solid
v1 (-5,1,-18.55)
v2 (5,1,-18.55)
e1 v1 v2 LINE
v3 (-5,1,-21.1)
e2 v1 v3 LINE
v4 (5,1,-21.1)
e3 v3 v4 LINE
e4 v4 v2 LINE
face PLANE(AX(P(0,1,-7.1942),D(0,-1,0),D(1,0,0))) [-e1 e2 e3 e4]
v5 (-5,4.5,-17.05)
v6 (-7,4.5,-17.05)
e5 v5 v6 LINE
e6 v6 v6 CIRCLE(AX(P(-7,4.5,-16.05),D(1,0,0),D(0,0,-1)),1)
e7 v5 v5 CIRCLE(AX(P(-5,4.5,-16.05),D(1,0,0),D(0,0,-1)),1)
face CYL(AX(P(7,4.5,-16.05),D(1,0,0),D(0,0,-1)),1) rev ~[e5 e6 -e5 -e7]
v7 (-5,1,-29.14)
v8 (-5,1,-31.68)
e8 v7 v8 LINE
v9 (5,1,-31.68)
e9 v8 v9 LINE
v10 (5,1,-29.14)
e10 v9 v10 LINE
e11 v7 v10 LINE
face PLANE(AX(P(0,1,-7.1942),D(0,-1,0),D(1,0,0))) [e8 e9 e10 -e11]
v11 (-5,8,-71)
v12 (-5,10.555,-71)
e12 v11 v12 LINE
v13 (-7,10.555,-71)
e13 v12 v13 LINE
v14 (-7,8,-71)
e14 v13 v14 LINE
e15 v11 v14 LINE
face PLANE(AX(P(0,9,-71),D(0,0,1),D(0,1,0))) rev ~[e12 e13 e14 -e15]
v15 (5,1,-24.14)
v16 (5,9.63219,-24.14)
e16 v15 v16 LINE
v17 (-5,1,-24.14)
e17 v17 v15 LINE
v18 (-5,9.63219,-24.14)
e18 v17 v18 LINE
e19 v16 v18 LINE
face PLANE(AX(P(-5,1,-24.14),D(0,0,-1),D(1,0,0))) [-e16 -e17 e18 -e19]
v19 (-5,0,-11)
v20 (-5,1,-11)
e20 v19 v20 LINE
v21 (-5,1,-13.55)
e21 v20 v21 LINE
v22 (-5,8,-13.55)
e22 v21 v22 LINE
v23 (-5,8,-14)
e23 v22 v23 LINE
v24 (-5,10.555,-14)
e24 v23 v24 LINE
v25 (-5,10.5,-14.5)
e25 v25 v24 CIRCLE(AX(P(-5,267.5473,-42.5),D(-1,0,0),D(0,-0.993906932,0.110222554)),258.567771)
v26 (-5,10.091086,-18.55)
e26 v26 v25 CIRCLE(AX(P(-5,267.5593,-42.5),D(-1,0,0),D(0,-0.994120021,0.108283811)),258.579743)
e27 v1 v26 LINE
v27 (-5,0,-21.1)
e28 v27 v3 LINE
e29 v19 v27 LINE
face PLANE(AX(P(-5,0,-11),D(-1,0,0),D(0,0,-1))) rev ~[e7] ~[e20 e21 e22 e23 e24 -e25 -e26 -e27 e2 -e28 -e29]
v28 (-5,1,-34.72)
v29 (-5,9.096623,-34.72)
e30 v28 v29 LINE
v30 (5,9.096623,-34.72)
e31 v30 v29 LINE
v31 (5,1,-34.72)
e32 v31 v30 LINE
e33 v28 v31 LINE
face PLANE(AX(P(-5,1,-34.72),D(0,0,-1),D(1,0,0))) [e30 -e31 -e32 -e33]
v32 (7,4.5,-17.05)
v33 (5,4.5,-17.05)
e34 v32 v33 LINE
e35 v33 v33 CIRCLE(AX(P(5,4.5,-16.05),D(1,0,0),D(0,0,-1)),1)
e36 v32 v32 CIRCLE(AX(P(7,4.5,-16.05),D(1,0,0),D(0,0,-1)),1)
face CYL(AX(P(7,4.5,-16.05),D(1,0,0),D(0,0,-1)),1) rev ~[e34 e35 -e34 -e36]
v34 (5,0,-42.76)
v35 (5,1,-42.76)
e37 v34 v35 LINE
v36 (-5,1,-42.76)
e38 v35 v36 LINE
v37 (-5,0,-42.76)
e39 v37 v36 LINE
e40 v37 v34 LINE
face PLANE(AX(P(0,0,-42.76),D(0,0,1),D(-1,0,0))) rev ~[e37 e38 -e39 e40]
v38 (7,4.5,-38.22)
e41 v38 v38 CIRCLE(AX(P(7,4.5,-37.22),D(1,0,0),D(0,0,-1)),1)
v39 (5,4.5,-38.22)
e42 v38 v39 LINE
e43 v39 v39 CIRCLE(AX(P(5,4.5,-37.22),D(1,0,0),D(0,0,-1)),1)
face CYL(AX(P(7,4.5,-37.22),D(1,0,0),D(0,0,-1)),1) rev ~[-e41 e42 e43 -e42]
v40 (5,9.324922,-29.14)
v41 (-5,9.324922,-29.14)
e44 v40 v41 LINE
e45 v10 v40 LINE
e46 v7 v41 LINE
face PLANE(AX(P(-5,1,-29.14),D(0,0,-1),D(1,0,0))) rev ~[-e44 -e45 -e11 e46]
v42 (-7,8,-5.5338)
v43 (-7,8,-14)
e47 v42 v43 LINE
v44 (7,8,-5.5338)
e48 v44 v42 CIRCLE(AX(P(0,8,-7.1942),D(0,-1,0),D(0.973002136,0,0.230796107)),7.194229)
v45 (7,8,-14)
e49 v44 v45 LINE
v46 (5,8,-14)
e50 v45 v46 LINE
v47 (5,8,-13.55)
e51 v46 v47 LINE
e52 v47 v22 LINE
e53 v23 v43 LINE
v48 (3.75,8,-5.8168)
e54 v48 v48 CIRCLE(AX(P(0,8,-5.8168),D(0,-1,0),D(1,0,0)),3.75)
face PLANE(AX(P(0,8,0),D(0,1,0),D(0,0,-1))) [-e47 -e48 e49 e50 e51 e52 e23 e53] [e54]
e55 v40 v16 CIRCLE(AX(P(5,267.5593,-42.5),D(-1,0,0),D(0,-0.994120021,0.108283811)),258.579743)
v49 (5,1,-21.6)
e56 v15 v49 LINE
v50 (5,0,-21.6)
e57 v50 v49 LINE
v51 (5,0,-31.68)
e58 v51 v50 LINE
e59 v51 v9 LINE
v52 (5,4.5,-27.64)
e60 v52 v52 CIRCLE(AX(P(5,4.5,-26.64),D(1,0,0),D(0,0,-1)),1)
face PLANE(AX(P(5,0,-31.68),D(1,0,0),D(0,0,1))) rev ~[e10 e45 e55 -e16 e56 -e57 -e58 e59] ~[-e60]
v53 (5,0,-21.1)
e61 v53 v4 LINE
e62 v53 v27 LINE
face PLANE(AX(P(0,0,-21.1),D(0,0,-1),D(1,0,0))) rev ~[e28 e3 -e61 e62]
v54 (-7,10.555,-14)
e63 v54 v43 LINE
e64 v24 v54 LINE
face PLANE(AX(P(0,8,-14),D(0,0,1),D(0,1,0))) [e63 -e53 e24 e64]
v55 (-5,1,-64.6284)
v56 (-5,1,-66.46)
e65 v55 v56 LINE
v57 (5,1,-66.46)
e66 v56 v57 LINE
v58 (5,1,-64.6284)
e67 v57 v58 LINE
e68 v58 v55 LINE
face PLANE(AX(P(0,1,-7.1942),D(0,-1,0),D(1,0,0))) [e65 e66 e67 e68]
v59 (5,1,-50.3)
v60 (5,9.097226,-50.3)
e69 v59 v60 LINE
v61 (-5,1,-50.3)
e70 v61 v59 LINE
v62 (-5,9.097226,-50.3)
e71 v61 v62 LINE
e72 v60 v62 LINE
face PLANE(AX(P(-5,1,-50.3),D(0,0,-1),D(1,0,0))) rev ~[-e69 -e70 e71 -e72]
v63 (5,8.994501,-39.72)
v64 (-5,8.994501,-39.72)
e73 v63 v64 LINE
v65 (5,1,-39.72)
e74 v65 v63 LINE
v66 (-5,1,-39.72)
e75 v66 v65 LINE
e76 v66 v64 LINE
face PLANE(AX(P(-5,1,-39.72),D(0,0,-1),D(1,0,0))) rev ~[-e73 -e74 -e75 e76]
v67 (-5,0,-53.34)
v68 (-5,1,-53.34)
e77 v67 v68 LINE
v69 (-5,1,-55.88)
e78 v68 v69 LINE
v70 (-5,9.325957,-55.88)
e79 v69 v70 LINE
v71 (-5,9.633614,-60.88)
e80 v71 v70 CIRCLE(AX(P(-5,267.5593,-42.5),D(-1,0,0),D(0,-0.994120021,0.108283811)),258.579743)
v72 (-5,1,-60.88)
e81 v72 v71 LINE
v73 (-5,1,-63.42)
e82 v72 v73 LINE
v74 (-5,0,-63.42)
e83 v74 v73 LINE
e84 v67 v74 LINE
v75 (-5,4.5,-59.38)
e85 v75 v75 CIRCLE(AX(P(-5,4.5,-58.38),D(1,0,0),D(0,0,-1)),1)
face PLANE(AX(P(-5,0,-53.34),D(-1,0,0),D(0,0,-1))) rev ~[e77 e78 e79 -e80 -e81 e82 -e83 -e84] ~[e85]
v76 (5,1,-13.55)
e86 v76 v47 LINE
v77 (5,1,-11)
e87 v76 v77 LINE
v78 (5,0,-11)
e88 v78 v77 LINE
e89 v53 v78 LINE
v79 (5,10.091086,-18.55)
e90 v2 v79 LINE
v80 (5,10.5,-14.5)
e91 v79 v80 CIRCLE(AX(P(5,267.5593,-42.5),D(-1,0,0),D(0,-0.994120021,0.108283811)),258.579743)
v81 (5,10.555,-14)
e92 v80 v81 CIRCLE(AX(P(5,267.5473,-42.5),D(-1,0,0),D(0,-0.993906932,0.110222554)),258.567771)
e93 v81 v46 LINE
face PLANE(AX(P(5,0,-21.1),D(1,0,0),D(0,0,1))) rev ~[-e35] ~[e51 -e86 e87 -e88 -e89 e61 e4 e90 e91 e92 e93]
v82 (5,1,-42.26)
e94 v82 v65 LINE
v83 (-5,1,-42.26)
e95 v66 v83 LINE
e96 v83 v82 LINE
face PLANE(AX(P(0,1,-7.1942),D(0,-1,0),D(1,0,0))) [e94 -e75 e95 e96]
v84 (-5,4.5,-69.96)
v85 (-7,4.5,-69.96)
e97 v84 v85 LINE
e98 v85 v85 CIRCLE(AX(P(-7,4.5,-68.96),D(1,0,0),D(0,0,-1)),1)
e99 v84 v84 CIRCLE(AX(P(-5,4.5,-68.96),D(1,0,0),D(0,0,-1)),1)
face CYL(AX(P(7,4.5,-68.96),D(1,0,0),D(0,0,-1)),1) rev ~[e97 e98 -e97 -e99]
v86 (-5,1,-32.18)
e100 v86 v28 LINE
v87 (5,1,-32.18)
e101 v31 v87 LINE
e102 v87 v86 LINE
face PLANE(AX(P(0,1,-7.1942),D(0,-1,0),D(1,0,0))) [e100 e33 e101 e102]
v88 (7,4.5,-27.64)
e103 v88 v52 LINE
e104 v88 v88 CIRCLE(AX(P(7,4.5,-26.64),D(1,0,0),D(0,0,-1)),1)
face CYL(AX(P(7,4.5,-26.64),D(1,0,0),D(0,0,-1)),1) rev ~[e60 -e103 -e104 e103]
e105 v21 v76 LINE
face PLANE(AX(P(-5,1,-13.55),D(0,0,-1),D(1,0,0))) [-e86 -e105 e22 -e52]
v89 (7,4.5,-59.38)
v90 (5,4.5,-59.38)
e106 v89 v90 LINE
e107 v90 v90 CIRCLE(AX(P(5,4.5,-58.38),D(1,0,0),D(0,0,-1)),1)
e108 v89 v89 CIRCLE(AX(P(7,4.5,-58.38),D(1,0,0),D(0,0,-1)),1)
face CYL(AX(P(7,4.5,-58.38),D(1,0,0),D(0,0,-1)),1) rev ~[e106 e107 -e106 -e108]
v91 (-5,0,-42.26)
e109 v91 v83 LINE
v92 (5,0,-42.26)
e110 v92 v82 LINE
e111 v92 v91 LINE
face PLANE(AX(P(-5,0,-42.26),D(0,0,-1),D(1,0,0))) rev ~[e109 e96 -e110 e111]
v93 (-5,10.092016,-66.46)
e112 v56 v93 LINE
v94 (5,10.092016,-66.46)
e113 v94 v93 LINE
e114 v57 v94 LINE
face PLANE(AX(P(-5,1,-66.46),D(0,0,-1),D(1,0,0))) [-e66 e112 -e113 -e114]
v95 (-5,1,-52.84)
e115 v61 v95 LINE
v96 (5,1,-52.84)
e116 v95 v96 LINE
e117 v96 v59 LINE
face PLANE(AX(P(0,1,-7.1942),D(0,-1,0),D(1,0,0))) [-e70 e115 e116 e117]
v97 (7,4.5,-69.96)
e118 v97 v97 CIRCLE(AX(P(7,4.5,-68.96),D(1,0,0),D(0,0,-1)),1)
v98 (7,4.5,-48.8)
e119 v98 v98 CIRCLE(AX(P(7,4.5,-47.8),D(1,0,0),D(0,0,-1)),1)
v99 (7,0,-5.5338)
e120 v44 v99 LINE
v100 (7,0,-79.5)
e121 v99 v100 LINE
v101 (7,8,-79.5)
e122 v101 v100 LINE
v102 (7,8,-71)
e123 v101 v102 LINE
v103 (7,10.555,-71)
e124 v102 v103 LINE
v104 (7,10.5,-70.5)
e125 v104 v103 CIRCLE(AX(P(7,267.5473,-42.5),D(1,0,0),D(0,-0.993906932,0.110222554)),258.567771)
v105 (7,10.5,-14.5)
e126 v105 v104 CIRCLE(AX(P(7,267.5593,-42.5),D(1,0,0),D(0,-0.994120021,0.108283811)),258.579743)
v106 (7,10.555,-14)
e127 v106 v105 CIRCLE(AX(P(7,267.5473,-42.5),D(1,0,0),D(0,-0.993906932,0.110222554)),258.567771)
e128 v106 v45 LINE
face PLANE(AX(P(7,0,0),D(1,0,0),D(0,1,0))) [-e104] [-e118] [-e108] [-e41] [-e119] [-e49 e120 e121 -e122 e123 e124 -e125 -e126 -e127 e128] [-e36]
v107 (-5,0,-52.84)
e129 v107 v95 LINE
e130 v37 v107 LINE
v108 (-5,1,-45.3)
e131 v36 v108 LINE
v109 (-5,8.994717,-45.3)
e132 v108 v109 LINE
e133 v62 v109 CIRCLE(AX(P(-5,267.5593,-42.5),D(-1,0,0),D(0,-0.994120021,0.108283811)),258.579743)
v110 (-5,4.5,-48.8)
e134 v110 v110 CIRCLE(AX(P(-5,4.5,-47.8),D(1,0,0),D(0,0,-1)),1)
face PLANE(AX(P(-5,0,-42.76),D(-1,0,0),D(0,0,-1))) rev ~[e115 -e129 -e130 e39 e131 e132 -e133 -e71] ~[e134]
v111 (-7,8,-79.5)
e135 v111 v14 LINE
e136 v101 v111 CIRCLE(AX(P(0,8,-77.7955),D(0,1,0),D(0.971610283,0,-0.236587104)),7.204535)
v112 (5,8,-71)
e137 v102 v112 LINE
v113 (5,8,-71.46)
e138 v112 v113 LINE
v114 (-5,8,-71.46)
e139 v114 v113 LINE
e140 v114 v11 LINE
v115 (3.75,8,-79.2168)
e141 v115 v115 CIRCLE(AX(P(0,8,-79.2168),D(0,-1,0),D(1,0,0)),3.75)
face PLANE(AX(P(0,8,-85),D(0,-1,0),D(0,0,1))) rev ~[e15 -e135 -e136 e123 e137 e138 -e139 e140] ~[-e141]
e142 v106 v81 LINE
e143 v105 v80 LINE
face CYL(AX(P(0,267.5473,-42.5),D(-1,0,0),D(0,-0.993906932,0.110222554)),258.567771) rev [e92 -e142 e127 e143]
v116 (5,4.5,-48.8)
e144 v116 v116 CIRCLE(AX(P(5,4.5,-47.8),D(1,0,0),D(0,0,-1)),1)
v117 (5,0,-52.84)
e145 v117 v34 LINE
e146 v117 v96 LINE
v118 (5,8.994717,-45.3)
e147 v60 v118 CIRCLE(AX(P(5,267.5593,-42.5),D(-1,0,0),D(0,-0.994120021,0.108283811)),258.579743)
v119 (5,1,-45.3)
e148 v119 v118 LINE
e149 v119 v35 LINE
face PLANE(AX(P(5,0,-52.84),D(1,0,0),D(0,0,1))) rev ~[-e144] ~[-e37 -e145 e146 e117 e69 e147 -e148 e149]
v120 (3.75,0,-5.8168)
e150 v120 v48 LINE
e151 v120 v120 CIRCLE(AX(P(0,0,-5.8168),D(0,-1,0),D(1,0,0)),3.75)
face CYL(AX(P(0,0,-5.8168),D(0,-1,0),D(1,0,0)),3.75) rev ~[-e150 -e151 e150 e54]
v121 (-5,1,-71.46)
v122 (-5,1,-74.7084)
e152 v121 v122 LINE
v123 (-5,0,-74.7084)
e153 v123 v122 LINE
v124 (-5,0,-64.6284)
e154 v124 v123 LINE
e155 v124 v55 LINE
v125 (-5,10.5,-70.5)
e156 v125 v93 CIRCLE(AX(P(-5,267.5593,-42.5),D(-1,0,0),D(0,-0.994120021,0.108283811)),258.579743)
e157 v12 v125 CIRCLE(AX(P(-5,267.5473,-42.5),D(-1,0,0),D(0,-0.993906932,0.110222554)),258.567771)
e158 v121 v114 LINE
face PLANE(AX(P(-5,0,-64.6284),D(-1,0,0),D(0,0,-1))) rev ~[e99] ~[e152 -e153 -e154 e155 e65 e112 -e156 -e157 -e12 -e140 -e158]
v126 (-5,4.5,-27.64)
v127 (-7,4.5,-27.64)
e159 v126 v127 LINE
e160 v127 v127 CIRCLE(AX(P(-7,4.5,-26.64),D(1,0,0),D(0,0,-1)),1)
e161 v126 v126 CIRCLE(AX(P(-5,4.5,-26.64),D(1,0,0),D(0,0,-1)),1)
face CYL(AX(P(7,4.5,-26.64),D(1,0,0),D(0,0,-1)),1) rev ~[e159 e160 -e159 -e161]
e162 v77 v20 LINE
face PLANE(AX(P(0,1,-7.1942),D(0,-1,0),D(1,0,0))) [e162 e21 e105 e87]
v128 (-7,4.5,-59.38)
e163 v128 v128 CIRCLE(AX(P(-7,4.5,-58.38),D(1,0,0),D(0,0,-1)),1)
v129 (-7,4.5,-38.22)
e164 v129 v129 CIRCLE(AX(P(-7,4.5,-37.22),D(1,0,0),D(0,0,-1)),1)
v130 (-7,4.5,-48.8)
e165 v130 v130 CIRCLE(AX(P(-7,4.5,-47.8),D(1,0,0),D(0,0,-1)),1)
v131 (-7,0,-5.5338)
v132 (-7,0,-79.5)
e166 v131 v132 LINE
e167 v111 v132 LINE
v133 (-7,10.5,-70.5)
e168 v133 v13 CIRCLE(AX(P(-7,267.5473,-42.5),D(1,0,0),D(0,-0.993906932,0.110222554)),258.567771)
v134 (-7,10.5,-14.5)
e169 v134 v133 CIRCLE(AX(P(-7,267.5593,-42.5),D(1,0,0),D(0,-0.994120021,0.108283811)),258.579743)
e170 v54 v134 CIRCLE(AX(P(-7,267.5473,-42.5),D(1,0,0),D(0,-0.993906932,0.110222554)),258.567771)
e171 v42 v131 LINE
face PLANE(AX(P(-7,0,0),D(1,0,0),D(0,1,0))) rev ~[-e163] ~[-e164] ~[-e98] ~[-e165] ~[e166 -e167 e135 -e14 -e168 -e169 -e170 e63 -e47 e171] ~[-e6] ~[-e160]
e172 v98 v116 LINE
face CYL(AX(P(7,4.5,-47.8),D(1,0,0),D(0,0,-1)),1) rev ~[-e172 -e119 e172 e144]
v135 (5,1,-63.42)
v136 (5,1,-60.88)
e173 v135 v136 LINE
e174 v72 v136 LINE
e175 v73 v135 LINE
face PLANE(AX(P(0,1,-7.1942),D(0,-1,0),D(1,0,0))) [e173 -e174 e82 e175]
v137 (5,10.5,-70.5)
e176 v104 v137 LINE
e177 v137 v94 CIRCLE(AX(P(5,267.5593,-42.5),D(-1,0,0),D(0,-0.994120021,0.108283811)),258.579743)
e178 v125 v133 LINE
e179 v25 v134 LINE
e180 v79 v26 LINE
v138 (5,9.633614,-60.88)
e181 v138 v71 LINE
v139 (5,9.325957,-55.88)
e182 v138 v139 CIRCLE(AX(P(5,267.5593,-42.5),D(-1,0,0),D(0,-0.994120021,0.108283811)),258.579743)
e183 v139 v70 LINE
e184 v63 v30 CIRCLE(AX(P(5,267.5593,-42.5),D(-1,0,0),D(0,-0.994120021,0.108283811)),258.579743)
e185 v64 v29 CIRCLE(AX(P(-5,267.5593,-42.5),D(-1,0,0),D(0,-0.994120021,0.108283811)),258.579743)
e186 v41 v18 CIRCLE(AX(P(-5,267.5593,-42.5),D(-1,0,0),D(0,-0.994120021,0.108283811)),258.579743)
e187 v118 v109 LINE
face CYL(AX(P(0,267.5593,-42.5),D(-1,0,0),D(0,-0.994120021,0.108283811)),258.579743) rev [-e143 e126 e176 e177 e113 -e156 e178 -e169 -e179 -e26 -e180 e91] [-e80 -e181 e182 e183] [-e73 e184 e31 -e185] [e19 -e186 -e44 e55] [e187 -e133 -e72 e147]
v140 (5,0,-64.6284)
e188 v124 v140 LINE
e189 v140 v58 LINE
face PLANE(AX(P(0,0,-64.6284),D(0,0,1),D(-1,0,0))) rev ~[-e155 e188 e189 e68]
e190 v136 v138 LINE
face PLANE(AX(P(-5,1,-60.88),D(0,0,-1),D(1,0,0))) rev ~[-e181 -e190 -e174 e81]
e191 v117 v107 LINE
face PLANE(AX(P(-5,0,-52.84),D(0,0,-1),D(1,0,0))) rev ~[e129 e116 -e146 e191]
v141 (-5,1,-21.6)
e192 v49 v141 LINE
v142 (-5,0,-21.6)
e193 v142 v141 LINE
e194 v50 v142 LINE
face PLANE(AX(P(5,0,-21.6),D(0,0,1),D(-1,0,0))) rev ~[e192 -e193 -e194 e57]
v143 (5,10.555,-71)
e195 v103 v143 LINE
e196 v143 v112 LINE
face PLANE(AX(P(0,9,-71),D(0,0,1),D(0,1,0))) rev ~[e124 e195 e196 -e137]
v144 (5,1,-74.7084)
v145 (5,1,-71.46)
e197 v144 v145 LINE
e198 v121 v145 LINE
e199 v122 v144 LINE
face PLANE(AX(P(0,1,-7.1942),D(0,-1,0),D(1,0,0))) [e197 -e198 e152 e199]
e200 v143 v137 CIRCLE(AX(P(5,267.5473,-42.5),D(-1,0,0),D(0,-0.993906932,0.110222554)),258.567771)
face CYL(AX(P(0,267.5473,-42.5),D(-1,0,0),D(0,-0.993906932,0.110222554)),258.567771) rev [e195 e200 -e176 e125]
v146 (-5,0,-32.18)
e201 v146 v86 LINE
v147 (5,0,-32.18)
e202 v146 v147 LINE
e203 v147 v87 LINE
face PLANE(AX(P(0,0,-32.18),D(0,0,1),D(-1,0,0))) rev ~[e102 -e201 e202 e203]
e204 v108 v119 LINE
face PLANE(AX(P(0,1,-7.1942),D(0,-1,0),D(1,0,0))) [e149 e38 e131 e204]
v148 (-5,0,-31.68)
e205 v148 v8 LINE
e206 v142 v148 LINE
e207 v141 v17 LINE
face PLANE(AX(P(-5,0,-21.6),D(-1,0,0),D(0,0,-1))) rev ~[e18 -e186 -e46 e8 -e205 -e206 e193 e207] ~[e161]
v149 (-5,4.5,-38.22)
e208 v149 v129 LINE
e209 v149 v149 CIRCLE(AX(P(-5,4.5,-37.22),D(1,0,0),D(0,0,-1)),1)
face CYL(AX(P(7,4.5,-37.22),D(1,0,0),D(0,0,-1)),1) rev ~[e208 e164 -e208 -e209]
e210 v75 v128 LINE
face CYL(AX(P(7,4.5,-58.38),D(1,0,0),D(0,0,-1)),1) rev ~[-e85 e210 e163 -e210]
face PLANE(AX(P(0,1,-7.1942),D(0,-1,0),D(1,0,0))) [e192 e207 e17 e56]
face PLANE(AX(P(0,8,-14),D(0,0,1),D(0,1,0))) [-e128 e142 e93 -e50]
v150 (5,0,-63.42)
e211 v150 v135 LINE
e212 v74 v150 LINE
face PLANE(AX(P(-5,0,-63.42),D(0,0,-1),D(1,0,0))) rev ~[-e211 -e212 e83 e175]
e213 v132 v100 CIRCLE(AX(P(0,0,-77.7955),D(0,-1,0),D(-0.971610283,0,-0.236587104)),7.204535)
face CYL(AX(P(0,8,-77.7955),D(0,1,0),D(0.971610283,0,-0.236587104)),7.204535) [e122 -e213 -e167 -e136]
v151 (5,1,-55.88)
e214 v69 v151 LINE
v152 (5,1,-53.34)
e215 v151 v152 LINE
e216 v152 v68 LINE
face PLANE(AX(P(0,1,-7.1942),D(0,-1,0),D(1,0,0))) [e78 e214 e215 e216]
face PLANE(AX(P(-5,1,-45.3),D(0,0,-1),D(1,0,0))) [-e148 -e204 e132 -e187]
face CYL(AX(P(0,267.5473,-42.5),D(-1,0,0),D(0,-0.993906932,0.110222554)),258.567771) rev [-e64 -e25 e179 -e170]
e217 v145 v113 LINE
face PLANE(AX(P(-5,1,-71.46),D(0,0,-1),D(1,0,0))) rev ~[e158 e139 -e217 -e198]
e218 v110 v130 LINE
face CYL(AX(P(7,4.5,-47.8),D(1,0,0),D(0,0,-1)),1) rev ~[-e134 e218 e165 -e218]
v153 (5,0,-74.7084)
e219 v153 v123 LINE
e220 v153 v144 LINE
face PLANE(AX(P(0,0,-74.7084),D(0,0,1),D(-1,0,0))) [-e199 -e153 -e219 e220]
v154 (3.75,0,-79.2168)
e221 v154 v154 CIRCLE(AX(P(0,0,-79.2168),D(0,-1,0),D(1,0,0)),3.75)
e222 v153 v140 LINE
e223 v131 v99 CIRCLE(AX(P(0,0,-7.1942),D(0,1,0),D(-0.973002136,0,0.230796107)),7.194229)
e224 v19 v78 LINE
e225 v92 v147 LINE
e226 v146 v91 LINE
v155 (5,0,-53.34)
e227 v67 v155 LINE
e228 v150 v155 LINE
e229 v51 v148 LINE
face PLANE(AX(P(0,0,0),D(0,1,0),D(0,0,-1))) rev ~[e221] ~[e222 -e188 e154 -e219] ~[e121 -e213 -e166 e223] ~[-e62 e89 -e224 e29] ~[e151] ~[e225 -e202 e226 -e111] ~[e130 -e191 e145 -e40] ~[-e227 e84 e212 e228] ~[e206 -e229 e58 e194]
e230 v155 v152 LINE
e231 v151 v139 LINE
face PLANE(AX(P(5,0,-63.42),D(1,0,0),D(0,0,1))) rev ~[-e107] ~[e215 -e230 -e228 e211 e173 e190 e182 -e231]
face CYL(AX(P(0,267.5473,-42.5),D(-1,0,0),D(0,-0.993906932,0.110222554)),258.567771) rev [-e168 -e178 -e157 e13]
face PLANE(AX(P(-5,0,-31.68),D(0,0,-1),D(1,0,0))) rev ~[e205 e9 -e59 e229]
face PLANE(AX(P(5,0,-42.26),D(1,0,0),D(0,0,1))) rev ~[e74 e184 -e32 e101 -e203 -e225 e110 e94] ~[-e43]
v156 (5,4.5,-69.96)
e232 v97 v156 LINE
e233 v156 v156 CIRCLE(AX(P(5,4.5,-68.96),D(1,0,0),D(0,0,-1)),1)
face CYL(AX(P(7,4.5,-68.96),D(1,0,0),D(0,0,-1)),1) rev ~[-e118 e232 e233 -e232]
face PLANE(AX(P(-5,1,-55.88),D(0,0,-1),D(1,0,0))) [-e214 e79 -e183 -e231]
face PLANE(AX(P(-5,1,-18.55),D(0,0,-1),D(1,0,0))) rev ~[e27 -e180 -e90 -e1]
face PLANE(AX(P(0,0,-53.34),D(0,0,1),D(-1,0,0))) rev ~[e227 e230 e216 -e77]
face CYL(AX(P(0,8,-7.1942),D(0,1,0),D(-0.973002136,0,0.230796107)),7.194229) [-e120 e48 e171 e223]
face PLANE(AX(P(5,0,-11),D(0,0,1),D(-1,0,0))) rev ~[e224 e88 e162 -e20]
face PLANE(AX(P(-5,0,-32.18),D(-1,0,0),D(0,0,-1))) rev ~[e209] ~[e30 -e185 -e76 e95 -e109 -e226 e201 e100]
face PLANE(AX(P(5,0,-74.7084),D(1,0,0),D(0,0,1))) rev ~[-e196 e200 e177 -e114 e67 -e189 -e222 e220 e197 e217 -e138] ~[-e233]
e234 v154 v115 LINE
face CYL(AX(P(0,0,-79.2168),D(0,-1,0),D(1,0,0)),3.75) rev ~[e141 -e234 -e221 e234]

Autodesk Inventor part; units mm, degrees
ref_plane "YZ Plane" through (0, 0, 0) normal (1, 0, 0) x (0, 1, 0)
ref_plane "XY Plane" through (0, 0, 0) normal (0, 0, 1) x (1, 0, 0)
sketch "Sketch1" plane through (0, 0, 0) normal (1, 0, 0) x (0, 1, 0)
  line L0 (0, 0) -> (0, -85)
  line L1 (0, -85) -> (8, -85)
  line L2 (0, 0) -> (8, 0)
  line L3 (8, 0) -> (8, -14)
  line L4 (8, -85) -> (8, -71)
  line L5 (8, -14) -> (9, -14)
  line L6 (8, -71) -> (9, -71)
  arc A0 (10.5, -14.5) -> (10.5, -70.5) centre (267.5593, -42.5) ccw
  line L7 (8, -71) -> (10.555, -71)
  line L8 (8, -14) -> (10.555, -14)
  arc A1 (10.555, -14) -> (10.555, -71) centre (267.5473, -42.5) ccw
extrude "Extrusion1" add sketch "Sketch1" along normal mid plane 14
sketch "Sketch2" plane through (-7, 8, 0) normal (0, 1, 0) x (1, 0, 0)
  line L0 (0, 85) -> (0, 0) projected
  line L1 (0, 14.0338) -> (0, 5.5338)
  line L2 (14, 0) -> (14, 85) projected
  line L3 (14, 14.0338) -> (14, 5.5338)
  arc A0 (0, 5.5338) -> (14, 5.5338) centre (7, 7.1942) ccw
  line L4 (0, 5.5338) -> (0, 0)
  line L5 (0, 0) -> (14, 0) projected
  line L6 (14, 0) -> (14, 5.5338)
  point P0 (7, 0)
  dimension "d13" = 8.5
extrude "Extrusion2" cut sketch "Sketch2" against normal blind 14
sketch "Sketch3" plane through (-7, 8, -71) normal (0, 1, 0) x (1, 0, 0)
  line L0 (0, 0) -> (14, 0) projected
  line L1 (0, 0) -> (0, 14) projected
  arc A0 (14, 8.5) -> (0, 8.5) centre (7, 6.7955) ccw
  line L2 (0, 8.5) -> (0, 14)
  line L3 (0, 14) -> (14, 14) projected
  line L4 (14, 14) -> (14, 8.5)
  line L5 (14, -65.4662) -> (14, 14) projected
  line L6 (0, 14) -> (0, 8.5)
  line L7 (14, 8.5) -> (14, 14)
  line L8 (14, 14) -> (0, 14)
  line L9 (0, 8.5) -> (0, 14)
  line L10 (0, 14) -> (14, 14) projected
  line L11 (14, 14) -> (14, 8.5)
  line L12 (14, 14) -> (14, 0) projected
  arc A1 (14, 8.5) -> (0, 8.5) centre (7, 6.7955) ccw
  point P0 (7, -71)
extrude "Extrusion3" cut sketch "Sketch3" against normal blind 14 contours L1 L3 A0 | A0 L3 L4
sketch "Sketch7" plane through (0, 0, -7.1942) normal (0, -1, 0) x (1, 0, 0)
  circle A0 centre (0, 2.1942) radius 3 projected
  line L0 (0, -0.8058) -> (0, -3.8058)
  circle A1 centre (0, -72.0142) radius 1.5 projected
  line L1 (0, -70.5142) -> (0, -67.5142)
  line L2 (0, -67.5142) -> (-5, -67.5142)
  line L3 (-5, -67.5142) -> (5, -67.5142)
  line L4 (-5, -67.5142) -> (5, -67.5142)
  line L5 (5, -67.5142) -> (5, -57.4342)
  line L6 (5, -57.4342) -> (-5, -57.4342)
  line L7 (-5, -57.4342) -> (-5, -67.5142)
  line L8 (0, -57.4342) -> (0, -56.9342)
  line L9 (-5, -56.2258) -> (5, -56.2258)
  line L10 (5, -56.2258) -> (5, -46.1458)
  line L11 (5, -46.1458) -> (-5, -46.1458)
  line L12 (-5, -46.1458) -> (-5, -56.2258)
  line L13 (0, -46.1458) -> (0, -45.6458)
  line L14 (-5, -45.6458) -> (5, -45.6458)
  line L15 (5, -45.6458) -> (5, -35.5658)
  line L16 (5, -35.5658) -> (-5, -35.5658)
  line L17 (-5, -35.5658) -> (-5, -45.6458)
  line L18 (0, -35.5658) -> (0, -35.0658)
  line L19 (-5, -35.0658) -> (5, -35.0658)
  line L20 (5, -35.0658) -> (5, -24.9858)
  line L21 (5, -24.9858) -> (-5, -24.9858)
  line L22 (-5, -24.9858) -> (-5, -35.0658)
  line L23 (0, -24.9858) -> (0, -24.4858)
  line L24 (-5, -24.4858) -> (5, -24.4858)
  line L25 (5, -24.4858) -> (5, -14.4058)
  line L26 (5, -14.4058) -> (-5, -14.4058)
  line L27 (-5, -14.4058) -> (-5, -24.4858)
  line L28 (0, -14.4058) -> (0, -13.9058)
  line L29 (-5, -13.9058) -> (5, -13.9058)
  line L30 (5, -13.9058) -> (5, -3.8058)
  line L31 (5, -3.8058) -> (-5, -3.8058)
  line L32 (-5, -3.8058) -> (-5, -13.9058)
  point P0 (0, 7.1942)
extrude "Extrusion6" cut sketch "Sketch7" against normal blind 1 contours L31 L30 L29 L32 | L2 L7 L6 L5 L3
sketch "Sketch8" plane through (0, 0, -7.1942) normal (0, -1, 0) x (1, 0, 0)
  line L0 (-5, -57.4342) -> (5, -57.4342) projected
  line L1 (0, -57.4342) -> (0, -56.9342)
  line L2 (-5, -56.2258) -> (5, -56.2258)
  line L3 (5, -56.2258) -> (5, -46.1458)
  line L4 (5, -46.1458) -> (-5, -46.1458)
  line L5 (-5, -46.1458) -> (-5, -56.2258)
  line L6 (0, -46.1458) -> (0, -45.6458)
  line L7 (-5, -45.6458) -> (5, -45.6458)
  line L8 (5, -45.6458) -> (5, -35.5658)
  line L9 (5, -35.5658) -> (-5, -35.5658)
  line L10 (-5, -35.5658) -> (-5, -45.6458)
  line L11 (0, -35.5658) -> (0, -35.0658)
  line L12 (-5, -35.0658) -> (5, -35.0658)
  line L13 (5, -35.0658) -> (5, -24.9858)
  line L14 (5, -24.9858) -> (-5, -24.9858)
  line L15 (-5, -24.9858) -> (-5, -35.0658)
  line L16 (0, -24.9858) -> (0, -24.4858)
  line L17 (-5, -24.4858) -> (5, -24.4858)
  line L18 (5, -24.4858) -> (5, -14.4058)
  line L19 (5, -14.4058) -> (-5, -14.4058)
  line L20 (-5, -14.4058) -> (-5, -24.4858)
  point P0 (0, 7.1942)
  dimension "d75" = 0.5
  dimension "d76" = 10.08
  dimension "d77" = 0.5
  dimension "d78" = 10.08
  dimension "d79" = 0.5
  dimension "d80" = 10.08
  dimension "d81" = 0.5
  dimension "d82" = 10.08
extrude "Extrusion7" cut sketch "Sketch8" against normal blind 1
sketch "Sketch9" plane through (0, 1, -7.1942) normal (0, -1, 0) x (1, 0, 0)
  line L0 (-5, -67.5142) -> (-5, -57.4342) projected
  line L1 (5, -57.4342) -> (5, -67.5142) projected
  line L2 (-5, -59.2658) -> (5, -59.2658)
  line L3 (-5, -64.2658) -> (5, -64.2658)
  line L4 (-5, -64.2658) -> (-5, -59.2658)
  line L5 (5, -64.2658) -> (5, -59.2658)
  line L6 (5, -64.2658) -> (5, -59.2658)
  point P0 (0, 7.1942)
extrude "Extrusion8" cut sketch "Sketch9" against normal blind 20
sketch "Sketch10" plane through (0, 1, -7.1942) normal (0, -1, 0) x (1, 0, 0)
  line L0 (-5, -56.2258) -> (-5, -46.1458) projected
  line L1 (5, -46.1458) -> (5, -56.2258) projected
  line L2 (-5, -53.6858) -> (5, -53.6858)
  line L3 (-5, -48.6858) -> (5, -48.6858)
  line L4 (5, -48.6858) -> (5, -53.6858)
  line L5 (-5, -48.6858) -> (-5, -53.6858)
  point P0 (0, 7.1942)
  dimension "d109" = 5
extrude "Extrusion9" cut sketch "Sketch10" against normal blind 20
sketch "Sketch11" plane through (0, 1, -7.1942) normal (0, -1, 0) x (1, 0, 0)
  line L0 (-5, -45.6458) -> (-5, -35.5658) projected
  line L1 (5, -35.5658) -> (5, -45.6458) projected
  line L2 (-5, -43.1058) -> (5, -43.1058)
  line L3 (-5, -38.1058) -> (5, -38.1058)
  line L4 (5, -38.1058) -> (5, -43.1058)
  line L5 (-5, -38.1058) -> (-5, -43.1058)
  point P0 (0, 7.1942)
extrude "Extrusion10" cut sketch "Sketch11" against normal blind 20
sketch "Sketch12" plane through (0, 1, -7.1942) normal (0, -1, 0) x (1, 0, 0)
  line L0 (-5, -35.0658) -> (-5, -24.9858) projected
  line L1 (5, -24.9858) -> (5, -35.0658) projected
  line L2 (-5, -32.5258) -> (5, -32.5258)
  line L3 (-5, -27.5258) -> (5, -27.5258)
  line L4 (5, -27.5258) -> (5, -32.5258)
  line L5 (-5, -27.5258) -> (-5, -32.5258)
  point P0 (0, 7.1942)
extrude "Extrusion11" cut sketch "Sketch12" against normal blind 20
sketch "Sketch13" plane through (0, 1, -7.1942) normal (0, -1, 0) x (1, 0, 0)
  line L0 (-5, -24.4858) -> (-5, -14.4058) projected
  line L1 (-5, -21.9458) -> (5, -21.9458)
  line L2 (-5, -16.9458) -> (5, -16.9458)
  line L3 (5, -16.9458) -> (5, -21.9458)
  line L4 (5, -14.4058) -> (5, -24.4858) projected
  line L5 (-5, -16.9458) -> (-5, -21.9458)
  point P0 (0, 7.1942)
extrude "Extrusion12" cut sketch "Sketch13" against normal blind 20
sketch "Sketch14" plane through (0, 1, -7.1942) normal (0, -1, 0) x (1, 0, 0)
  line L0 (-5, -13.9058) -> (-5, -3.8058) projected
  line L1 (5, -3.8058) -> (5, -13.9058) projected
  line L2 (-5, -11.3558) -> (5, -11.3558)
  line L3 (-5, -6.3558) -> (5, -6.3558)
  line L4 (5, -6.3558) -> (5, -11.3558)
  line L5 (-5, -6.772) -> (-5, -11.3558)
  line L6 (-5, -6.3558) -> (-5, -11.3558)
  point P0 (0, 7.1942)
extrude "Extrusion13" cut sketch "Sketch14" against normal blind 20
ref_plane "Work Plane1" through (0, 8.9795, -42.5) normal (0, 1, 0) x (-1, 0, 0)
sketch "Sketch30" plane through (0, 0, -7.1942) normal (0, -1, 0) x (1, 0, 0)
  line L0 (7, 1.6605) -> (7, -72.3058) construction
  line L1 (7, -35.3226) -> (-7, -35.3226) construction
  line L2 (-7, -72.3058) -> (-7, 1.6605) construction
  line L3 (0, -35.3226) -> (0, 1.3774) construction
  line L4 (0, -35.3226) -> (0, -72.0226) construction
  circle A0 centre (0, 1.3774) radius 3.75
  circle A1 centre (0, -72.0226) radius 3.75
  point P0 (0, 7.1942)
  dimension "d140" = 36.7
  dimension "d141" = 36.7
  dimension "d142" = 7.5
  dimension "d143" = 7.5
extrude "Extrusion16" cut sketch "Sketch30" against normal through all
sketch "Sketch31" plane through (7, 0, 0) normal (1, 0, 0) x (0, 0, -1)
  line L0 (13.55, 1) -> (13.55, 8) construction
  line L1 (71.46, 1) -> (71.46, 8) construction
  line L2 (18.55, 1) -> (18.55, 10.0911) construction
  line L3 (24.14, 1) -> (24.14, 9.6322) construction
  line L4 (29.14, 1) -> (29.14, 9.3249) construction
  line L5 (34.72, 1) -> (34.72, 9.0966) construction
  line L6 (39.72, 1) -> (39.72, 8.9945) construction
  line L7 (45.3, 1) -> (45.3, 8.9947) construction
  line L8 (50.3, 1) -> (50.3, 9.0972) construction
  line L9 (55.88, 1) -> (55.88, 9.326) construction
  line L10 (60.88, 1) -> (60.88, 9.6336) construction
  line L11 (66.46, 1) -> (66.46, 10.0921) construction
  line L12 (13.55, 4.5) -> (18.55, 4.5) construction
  line L13 (24.14, 4.5) -> (29.14, 4.5) construction
  line L14 (34.72, 4.5) -> (39.72, 4.5) construction
  line L15 (45.3, 4.5) -> (50.3, 4.5) construction
  line L16 (55.88, 4.5) -> (60.88, 4.5) construction
  line L17 (66.46, 4.5) -> (71.46, 4.5) construction
  circle A0 centre (16.05, 4.5) radius 1
  circle A1 centre (26.64, 4.5) radius 1
  circle A2 centre (37.22, 4.5) radius 1
  circle A3 centre (47.8, 4.5) radius 1
  circle A4 centre (58.38, 4.5) radius 1
  circle A5 centre (68.96, 4.5) radius 1
  point P0 (0, 0)
  dimension "d146" = 2
  dimension "d147" = 2
  dimension "d148" = 2
  dimension "d149" = 2
  dimension "d150" = 2
  dimension "d151" = 2
extrude "Extrusion17" cut sketch "Sketch31" against normal through all
properties part number "Ponte menor" material "Steel"
